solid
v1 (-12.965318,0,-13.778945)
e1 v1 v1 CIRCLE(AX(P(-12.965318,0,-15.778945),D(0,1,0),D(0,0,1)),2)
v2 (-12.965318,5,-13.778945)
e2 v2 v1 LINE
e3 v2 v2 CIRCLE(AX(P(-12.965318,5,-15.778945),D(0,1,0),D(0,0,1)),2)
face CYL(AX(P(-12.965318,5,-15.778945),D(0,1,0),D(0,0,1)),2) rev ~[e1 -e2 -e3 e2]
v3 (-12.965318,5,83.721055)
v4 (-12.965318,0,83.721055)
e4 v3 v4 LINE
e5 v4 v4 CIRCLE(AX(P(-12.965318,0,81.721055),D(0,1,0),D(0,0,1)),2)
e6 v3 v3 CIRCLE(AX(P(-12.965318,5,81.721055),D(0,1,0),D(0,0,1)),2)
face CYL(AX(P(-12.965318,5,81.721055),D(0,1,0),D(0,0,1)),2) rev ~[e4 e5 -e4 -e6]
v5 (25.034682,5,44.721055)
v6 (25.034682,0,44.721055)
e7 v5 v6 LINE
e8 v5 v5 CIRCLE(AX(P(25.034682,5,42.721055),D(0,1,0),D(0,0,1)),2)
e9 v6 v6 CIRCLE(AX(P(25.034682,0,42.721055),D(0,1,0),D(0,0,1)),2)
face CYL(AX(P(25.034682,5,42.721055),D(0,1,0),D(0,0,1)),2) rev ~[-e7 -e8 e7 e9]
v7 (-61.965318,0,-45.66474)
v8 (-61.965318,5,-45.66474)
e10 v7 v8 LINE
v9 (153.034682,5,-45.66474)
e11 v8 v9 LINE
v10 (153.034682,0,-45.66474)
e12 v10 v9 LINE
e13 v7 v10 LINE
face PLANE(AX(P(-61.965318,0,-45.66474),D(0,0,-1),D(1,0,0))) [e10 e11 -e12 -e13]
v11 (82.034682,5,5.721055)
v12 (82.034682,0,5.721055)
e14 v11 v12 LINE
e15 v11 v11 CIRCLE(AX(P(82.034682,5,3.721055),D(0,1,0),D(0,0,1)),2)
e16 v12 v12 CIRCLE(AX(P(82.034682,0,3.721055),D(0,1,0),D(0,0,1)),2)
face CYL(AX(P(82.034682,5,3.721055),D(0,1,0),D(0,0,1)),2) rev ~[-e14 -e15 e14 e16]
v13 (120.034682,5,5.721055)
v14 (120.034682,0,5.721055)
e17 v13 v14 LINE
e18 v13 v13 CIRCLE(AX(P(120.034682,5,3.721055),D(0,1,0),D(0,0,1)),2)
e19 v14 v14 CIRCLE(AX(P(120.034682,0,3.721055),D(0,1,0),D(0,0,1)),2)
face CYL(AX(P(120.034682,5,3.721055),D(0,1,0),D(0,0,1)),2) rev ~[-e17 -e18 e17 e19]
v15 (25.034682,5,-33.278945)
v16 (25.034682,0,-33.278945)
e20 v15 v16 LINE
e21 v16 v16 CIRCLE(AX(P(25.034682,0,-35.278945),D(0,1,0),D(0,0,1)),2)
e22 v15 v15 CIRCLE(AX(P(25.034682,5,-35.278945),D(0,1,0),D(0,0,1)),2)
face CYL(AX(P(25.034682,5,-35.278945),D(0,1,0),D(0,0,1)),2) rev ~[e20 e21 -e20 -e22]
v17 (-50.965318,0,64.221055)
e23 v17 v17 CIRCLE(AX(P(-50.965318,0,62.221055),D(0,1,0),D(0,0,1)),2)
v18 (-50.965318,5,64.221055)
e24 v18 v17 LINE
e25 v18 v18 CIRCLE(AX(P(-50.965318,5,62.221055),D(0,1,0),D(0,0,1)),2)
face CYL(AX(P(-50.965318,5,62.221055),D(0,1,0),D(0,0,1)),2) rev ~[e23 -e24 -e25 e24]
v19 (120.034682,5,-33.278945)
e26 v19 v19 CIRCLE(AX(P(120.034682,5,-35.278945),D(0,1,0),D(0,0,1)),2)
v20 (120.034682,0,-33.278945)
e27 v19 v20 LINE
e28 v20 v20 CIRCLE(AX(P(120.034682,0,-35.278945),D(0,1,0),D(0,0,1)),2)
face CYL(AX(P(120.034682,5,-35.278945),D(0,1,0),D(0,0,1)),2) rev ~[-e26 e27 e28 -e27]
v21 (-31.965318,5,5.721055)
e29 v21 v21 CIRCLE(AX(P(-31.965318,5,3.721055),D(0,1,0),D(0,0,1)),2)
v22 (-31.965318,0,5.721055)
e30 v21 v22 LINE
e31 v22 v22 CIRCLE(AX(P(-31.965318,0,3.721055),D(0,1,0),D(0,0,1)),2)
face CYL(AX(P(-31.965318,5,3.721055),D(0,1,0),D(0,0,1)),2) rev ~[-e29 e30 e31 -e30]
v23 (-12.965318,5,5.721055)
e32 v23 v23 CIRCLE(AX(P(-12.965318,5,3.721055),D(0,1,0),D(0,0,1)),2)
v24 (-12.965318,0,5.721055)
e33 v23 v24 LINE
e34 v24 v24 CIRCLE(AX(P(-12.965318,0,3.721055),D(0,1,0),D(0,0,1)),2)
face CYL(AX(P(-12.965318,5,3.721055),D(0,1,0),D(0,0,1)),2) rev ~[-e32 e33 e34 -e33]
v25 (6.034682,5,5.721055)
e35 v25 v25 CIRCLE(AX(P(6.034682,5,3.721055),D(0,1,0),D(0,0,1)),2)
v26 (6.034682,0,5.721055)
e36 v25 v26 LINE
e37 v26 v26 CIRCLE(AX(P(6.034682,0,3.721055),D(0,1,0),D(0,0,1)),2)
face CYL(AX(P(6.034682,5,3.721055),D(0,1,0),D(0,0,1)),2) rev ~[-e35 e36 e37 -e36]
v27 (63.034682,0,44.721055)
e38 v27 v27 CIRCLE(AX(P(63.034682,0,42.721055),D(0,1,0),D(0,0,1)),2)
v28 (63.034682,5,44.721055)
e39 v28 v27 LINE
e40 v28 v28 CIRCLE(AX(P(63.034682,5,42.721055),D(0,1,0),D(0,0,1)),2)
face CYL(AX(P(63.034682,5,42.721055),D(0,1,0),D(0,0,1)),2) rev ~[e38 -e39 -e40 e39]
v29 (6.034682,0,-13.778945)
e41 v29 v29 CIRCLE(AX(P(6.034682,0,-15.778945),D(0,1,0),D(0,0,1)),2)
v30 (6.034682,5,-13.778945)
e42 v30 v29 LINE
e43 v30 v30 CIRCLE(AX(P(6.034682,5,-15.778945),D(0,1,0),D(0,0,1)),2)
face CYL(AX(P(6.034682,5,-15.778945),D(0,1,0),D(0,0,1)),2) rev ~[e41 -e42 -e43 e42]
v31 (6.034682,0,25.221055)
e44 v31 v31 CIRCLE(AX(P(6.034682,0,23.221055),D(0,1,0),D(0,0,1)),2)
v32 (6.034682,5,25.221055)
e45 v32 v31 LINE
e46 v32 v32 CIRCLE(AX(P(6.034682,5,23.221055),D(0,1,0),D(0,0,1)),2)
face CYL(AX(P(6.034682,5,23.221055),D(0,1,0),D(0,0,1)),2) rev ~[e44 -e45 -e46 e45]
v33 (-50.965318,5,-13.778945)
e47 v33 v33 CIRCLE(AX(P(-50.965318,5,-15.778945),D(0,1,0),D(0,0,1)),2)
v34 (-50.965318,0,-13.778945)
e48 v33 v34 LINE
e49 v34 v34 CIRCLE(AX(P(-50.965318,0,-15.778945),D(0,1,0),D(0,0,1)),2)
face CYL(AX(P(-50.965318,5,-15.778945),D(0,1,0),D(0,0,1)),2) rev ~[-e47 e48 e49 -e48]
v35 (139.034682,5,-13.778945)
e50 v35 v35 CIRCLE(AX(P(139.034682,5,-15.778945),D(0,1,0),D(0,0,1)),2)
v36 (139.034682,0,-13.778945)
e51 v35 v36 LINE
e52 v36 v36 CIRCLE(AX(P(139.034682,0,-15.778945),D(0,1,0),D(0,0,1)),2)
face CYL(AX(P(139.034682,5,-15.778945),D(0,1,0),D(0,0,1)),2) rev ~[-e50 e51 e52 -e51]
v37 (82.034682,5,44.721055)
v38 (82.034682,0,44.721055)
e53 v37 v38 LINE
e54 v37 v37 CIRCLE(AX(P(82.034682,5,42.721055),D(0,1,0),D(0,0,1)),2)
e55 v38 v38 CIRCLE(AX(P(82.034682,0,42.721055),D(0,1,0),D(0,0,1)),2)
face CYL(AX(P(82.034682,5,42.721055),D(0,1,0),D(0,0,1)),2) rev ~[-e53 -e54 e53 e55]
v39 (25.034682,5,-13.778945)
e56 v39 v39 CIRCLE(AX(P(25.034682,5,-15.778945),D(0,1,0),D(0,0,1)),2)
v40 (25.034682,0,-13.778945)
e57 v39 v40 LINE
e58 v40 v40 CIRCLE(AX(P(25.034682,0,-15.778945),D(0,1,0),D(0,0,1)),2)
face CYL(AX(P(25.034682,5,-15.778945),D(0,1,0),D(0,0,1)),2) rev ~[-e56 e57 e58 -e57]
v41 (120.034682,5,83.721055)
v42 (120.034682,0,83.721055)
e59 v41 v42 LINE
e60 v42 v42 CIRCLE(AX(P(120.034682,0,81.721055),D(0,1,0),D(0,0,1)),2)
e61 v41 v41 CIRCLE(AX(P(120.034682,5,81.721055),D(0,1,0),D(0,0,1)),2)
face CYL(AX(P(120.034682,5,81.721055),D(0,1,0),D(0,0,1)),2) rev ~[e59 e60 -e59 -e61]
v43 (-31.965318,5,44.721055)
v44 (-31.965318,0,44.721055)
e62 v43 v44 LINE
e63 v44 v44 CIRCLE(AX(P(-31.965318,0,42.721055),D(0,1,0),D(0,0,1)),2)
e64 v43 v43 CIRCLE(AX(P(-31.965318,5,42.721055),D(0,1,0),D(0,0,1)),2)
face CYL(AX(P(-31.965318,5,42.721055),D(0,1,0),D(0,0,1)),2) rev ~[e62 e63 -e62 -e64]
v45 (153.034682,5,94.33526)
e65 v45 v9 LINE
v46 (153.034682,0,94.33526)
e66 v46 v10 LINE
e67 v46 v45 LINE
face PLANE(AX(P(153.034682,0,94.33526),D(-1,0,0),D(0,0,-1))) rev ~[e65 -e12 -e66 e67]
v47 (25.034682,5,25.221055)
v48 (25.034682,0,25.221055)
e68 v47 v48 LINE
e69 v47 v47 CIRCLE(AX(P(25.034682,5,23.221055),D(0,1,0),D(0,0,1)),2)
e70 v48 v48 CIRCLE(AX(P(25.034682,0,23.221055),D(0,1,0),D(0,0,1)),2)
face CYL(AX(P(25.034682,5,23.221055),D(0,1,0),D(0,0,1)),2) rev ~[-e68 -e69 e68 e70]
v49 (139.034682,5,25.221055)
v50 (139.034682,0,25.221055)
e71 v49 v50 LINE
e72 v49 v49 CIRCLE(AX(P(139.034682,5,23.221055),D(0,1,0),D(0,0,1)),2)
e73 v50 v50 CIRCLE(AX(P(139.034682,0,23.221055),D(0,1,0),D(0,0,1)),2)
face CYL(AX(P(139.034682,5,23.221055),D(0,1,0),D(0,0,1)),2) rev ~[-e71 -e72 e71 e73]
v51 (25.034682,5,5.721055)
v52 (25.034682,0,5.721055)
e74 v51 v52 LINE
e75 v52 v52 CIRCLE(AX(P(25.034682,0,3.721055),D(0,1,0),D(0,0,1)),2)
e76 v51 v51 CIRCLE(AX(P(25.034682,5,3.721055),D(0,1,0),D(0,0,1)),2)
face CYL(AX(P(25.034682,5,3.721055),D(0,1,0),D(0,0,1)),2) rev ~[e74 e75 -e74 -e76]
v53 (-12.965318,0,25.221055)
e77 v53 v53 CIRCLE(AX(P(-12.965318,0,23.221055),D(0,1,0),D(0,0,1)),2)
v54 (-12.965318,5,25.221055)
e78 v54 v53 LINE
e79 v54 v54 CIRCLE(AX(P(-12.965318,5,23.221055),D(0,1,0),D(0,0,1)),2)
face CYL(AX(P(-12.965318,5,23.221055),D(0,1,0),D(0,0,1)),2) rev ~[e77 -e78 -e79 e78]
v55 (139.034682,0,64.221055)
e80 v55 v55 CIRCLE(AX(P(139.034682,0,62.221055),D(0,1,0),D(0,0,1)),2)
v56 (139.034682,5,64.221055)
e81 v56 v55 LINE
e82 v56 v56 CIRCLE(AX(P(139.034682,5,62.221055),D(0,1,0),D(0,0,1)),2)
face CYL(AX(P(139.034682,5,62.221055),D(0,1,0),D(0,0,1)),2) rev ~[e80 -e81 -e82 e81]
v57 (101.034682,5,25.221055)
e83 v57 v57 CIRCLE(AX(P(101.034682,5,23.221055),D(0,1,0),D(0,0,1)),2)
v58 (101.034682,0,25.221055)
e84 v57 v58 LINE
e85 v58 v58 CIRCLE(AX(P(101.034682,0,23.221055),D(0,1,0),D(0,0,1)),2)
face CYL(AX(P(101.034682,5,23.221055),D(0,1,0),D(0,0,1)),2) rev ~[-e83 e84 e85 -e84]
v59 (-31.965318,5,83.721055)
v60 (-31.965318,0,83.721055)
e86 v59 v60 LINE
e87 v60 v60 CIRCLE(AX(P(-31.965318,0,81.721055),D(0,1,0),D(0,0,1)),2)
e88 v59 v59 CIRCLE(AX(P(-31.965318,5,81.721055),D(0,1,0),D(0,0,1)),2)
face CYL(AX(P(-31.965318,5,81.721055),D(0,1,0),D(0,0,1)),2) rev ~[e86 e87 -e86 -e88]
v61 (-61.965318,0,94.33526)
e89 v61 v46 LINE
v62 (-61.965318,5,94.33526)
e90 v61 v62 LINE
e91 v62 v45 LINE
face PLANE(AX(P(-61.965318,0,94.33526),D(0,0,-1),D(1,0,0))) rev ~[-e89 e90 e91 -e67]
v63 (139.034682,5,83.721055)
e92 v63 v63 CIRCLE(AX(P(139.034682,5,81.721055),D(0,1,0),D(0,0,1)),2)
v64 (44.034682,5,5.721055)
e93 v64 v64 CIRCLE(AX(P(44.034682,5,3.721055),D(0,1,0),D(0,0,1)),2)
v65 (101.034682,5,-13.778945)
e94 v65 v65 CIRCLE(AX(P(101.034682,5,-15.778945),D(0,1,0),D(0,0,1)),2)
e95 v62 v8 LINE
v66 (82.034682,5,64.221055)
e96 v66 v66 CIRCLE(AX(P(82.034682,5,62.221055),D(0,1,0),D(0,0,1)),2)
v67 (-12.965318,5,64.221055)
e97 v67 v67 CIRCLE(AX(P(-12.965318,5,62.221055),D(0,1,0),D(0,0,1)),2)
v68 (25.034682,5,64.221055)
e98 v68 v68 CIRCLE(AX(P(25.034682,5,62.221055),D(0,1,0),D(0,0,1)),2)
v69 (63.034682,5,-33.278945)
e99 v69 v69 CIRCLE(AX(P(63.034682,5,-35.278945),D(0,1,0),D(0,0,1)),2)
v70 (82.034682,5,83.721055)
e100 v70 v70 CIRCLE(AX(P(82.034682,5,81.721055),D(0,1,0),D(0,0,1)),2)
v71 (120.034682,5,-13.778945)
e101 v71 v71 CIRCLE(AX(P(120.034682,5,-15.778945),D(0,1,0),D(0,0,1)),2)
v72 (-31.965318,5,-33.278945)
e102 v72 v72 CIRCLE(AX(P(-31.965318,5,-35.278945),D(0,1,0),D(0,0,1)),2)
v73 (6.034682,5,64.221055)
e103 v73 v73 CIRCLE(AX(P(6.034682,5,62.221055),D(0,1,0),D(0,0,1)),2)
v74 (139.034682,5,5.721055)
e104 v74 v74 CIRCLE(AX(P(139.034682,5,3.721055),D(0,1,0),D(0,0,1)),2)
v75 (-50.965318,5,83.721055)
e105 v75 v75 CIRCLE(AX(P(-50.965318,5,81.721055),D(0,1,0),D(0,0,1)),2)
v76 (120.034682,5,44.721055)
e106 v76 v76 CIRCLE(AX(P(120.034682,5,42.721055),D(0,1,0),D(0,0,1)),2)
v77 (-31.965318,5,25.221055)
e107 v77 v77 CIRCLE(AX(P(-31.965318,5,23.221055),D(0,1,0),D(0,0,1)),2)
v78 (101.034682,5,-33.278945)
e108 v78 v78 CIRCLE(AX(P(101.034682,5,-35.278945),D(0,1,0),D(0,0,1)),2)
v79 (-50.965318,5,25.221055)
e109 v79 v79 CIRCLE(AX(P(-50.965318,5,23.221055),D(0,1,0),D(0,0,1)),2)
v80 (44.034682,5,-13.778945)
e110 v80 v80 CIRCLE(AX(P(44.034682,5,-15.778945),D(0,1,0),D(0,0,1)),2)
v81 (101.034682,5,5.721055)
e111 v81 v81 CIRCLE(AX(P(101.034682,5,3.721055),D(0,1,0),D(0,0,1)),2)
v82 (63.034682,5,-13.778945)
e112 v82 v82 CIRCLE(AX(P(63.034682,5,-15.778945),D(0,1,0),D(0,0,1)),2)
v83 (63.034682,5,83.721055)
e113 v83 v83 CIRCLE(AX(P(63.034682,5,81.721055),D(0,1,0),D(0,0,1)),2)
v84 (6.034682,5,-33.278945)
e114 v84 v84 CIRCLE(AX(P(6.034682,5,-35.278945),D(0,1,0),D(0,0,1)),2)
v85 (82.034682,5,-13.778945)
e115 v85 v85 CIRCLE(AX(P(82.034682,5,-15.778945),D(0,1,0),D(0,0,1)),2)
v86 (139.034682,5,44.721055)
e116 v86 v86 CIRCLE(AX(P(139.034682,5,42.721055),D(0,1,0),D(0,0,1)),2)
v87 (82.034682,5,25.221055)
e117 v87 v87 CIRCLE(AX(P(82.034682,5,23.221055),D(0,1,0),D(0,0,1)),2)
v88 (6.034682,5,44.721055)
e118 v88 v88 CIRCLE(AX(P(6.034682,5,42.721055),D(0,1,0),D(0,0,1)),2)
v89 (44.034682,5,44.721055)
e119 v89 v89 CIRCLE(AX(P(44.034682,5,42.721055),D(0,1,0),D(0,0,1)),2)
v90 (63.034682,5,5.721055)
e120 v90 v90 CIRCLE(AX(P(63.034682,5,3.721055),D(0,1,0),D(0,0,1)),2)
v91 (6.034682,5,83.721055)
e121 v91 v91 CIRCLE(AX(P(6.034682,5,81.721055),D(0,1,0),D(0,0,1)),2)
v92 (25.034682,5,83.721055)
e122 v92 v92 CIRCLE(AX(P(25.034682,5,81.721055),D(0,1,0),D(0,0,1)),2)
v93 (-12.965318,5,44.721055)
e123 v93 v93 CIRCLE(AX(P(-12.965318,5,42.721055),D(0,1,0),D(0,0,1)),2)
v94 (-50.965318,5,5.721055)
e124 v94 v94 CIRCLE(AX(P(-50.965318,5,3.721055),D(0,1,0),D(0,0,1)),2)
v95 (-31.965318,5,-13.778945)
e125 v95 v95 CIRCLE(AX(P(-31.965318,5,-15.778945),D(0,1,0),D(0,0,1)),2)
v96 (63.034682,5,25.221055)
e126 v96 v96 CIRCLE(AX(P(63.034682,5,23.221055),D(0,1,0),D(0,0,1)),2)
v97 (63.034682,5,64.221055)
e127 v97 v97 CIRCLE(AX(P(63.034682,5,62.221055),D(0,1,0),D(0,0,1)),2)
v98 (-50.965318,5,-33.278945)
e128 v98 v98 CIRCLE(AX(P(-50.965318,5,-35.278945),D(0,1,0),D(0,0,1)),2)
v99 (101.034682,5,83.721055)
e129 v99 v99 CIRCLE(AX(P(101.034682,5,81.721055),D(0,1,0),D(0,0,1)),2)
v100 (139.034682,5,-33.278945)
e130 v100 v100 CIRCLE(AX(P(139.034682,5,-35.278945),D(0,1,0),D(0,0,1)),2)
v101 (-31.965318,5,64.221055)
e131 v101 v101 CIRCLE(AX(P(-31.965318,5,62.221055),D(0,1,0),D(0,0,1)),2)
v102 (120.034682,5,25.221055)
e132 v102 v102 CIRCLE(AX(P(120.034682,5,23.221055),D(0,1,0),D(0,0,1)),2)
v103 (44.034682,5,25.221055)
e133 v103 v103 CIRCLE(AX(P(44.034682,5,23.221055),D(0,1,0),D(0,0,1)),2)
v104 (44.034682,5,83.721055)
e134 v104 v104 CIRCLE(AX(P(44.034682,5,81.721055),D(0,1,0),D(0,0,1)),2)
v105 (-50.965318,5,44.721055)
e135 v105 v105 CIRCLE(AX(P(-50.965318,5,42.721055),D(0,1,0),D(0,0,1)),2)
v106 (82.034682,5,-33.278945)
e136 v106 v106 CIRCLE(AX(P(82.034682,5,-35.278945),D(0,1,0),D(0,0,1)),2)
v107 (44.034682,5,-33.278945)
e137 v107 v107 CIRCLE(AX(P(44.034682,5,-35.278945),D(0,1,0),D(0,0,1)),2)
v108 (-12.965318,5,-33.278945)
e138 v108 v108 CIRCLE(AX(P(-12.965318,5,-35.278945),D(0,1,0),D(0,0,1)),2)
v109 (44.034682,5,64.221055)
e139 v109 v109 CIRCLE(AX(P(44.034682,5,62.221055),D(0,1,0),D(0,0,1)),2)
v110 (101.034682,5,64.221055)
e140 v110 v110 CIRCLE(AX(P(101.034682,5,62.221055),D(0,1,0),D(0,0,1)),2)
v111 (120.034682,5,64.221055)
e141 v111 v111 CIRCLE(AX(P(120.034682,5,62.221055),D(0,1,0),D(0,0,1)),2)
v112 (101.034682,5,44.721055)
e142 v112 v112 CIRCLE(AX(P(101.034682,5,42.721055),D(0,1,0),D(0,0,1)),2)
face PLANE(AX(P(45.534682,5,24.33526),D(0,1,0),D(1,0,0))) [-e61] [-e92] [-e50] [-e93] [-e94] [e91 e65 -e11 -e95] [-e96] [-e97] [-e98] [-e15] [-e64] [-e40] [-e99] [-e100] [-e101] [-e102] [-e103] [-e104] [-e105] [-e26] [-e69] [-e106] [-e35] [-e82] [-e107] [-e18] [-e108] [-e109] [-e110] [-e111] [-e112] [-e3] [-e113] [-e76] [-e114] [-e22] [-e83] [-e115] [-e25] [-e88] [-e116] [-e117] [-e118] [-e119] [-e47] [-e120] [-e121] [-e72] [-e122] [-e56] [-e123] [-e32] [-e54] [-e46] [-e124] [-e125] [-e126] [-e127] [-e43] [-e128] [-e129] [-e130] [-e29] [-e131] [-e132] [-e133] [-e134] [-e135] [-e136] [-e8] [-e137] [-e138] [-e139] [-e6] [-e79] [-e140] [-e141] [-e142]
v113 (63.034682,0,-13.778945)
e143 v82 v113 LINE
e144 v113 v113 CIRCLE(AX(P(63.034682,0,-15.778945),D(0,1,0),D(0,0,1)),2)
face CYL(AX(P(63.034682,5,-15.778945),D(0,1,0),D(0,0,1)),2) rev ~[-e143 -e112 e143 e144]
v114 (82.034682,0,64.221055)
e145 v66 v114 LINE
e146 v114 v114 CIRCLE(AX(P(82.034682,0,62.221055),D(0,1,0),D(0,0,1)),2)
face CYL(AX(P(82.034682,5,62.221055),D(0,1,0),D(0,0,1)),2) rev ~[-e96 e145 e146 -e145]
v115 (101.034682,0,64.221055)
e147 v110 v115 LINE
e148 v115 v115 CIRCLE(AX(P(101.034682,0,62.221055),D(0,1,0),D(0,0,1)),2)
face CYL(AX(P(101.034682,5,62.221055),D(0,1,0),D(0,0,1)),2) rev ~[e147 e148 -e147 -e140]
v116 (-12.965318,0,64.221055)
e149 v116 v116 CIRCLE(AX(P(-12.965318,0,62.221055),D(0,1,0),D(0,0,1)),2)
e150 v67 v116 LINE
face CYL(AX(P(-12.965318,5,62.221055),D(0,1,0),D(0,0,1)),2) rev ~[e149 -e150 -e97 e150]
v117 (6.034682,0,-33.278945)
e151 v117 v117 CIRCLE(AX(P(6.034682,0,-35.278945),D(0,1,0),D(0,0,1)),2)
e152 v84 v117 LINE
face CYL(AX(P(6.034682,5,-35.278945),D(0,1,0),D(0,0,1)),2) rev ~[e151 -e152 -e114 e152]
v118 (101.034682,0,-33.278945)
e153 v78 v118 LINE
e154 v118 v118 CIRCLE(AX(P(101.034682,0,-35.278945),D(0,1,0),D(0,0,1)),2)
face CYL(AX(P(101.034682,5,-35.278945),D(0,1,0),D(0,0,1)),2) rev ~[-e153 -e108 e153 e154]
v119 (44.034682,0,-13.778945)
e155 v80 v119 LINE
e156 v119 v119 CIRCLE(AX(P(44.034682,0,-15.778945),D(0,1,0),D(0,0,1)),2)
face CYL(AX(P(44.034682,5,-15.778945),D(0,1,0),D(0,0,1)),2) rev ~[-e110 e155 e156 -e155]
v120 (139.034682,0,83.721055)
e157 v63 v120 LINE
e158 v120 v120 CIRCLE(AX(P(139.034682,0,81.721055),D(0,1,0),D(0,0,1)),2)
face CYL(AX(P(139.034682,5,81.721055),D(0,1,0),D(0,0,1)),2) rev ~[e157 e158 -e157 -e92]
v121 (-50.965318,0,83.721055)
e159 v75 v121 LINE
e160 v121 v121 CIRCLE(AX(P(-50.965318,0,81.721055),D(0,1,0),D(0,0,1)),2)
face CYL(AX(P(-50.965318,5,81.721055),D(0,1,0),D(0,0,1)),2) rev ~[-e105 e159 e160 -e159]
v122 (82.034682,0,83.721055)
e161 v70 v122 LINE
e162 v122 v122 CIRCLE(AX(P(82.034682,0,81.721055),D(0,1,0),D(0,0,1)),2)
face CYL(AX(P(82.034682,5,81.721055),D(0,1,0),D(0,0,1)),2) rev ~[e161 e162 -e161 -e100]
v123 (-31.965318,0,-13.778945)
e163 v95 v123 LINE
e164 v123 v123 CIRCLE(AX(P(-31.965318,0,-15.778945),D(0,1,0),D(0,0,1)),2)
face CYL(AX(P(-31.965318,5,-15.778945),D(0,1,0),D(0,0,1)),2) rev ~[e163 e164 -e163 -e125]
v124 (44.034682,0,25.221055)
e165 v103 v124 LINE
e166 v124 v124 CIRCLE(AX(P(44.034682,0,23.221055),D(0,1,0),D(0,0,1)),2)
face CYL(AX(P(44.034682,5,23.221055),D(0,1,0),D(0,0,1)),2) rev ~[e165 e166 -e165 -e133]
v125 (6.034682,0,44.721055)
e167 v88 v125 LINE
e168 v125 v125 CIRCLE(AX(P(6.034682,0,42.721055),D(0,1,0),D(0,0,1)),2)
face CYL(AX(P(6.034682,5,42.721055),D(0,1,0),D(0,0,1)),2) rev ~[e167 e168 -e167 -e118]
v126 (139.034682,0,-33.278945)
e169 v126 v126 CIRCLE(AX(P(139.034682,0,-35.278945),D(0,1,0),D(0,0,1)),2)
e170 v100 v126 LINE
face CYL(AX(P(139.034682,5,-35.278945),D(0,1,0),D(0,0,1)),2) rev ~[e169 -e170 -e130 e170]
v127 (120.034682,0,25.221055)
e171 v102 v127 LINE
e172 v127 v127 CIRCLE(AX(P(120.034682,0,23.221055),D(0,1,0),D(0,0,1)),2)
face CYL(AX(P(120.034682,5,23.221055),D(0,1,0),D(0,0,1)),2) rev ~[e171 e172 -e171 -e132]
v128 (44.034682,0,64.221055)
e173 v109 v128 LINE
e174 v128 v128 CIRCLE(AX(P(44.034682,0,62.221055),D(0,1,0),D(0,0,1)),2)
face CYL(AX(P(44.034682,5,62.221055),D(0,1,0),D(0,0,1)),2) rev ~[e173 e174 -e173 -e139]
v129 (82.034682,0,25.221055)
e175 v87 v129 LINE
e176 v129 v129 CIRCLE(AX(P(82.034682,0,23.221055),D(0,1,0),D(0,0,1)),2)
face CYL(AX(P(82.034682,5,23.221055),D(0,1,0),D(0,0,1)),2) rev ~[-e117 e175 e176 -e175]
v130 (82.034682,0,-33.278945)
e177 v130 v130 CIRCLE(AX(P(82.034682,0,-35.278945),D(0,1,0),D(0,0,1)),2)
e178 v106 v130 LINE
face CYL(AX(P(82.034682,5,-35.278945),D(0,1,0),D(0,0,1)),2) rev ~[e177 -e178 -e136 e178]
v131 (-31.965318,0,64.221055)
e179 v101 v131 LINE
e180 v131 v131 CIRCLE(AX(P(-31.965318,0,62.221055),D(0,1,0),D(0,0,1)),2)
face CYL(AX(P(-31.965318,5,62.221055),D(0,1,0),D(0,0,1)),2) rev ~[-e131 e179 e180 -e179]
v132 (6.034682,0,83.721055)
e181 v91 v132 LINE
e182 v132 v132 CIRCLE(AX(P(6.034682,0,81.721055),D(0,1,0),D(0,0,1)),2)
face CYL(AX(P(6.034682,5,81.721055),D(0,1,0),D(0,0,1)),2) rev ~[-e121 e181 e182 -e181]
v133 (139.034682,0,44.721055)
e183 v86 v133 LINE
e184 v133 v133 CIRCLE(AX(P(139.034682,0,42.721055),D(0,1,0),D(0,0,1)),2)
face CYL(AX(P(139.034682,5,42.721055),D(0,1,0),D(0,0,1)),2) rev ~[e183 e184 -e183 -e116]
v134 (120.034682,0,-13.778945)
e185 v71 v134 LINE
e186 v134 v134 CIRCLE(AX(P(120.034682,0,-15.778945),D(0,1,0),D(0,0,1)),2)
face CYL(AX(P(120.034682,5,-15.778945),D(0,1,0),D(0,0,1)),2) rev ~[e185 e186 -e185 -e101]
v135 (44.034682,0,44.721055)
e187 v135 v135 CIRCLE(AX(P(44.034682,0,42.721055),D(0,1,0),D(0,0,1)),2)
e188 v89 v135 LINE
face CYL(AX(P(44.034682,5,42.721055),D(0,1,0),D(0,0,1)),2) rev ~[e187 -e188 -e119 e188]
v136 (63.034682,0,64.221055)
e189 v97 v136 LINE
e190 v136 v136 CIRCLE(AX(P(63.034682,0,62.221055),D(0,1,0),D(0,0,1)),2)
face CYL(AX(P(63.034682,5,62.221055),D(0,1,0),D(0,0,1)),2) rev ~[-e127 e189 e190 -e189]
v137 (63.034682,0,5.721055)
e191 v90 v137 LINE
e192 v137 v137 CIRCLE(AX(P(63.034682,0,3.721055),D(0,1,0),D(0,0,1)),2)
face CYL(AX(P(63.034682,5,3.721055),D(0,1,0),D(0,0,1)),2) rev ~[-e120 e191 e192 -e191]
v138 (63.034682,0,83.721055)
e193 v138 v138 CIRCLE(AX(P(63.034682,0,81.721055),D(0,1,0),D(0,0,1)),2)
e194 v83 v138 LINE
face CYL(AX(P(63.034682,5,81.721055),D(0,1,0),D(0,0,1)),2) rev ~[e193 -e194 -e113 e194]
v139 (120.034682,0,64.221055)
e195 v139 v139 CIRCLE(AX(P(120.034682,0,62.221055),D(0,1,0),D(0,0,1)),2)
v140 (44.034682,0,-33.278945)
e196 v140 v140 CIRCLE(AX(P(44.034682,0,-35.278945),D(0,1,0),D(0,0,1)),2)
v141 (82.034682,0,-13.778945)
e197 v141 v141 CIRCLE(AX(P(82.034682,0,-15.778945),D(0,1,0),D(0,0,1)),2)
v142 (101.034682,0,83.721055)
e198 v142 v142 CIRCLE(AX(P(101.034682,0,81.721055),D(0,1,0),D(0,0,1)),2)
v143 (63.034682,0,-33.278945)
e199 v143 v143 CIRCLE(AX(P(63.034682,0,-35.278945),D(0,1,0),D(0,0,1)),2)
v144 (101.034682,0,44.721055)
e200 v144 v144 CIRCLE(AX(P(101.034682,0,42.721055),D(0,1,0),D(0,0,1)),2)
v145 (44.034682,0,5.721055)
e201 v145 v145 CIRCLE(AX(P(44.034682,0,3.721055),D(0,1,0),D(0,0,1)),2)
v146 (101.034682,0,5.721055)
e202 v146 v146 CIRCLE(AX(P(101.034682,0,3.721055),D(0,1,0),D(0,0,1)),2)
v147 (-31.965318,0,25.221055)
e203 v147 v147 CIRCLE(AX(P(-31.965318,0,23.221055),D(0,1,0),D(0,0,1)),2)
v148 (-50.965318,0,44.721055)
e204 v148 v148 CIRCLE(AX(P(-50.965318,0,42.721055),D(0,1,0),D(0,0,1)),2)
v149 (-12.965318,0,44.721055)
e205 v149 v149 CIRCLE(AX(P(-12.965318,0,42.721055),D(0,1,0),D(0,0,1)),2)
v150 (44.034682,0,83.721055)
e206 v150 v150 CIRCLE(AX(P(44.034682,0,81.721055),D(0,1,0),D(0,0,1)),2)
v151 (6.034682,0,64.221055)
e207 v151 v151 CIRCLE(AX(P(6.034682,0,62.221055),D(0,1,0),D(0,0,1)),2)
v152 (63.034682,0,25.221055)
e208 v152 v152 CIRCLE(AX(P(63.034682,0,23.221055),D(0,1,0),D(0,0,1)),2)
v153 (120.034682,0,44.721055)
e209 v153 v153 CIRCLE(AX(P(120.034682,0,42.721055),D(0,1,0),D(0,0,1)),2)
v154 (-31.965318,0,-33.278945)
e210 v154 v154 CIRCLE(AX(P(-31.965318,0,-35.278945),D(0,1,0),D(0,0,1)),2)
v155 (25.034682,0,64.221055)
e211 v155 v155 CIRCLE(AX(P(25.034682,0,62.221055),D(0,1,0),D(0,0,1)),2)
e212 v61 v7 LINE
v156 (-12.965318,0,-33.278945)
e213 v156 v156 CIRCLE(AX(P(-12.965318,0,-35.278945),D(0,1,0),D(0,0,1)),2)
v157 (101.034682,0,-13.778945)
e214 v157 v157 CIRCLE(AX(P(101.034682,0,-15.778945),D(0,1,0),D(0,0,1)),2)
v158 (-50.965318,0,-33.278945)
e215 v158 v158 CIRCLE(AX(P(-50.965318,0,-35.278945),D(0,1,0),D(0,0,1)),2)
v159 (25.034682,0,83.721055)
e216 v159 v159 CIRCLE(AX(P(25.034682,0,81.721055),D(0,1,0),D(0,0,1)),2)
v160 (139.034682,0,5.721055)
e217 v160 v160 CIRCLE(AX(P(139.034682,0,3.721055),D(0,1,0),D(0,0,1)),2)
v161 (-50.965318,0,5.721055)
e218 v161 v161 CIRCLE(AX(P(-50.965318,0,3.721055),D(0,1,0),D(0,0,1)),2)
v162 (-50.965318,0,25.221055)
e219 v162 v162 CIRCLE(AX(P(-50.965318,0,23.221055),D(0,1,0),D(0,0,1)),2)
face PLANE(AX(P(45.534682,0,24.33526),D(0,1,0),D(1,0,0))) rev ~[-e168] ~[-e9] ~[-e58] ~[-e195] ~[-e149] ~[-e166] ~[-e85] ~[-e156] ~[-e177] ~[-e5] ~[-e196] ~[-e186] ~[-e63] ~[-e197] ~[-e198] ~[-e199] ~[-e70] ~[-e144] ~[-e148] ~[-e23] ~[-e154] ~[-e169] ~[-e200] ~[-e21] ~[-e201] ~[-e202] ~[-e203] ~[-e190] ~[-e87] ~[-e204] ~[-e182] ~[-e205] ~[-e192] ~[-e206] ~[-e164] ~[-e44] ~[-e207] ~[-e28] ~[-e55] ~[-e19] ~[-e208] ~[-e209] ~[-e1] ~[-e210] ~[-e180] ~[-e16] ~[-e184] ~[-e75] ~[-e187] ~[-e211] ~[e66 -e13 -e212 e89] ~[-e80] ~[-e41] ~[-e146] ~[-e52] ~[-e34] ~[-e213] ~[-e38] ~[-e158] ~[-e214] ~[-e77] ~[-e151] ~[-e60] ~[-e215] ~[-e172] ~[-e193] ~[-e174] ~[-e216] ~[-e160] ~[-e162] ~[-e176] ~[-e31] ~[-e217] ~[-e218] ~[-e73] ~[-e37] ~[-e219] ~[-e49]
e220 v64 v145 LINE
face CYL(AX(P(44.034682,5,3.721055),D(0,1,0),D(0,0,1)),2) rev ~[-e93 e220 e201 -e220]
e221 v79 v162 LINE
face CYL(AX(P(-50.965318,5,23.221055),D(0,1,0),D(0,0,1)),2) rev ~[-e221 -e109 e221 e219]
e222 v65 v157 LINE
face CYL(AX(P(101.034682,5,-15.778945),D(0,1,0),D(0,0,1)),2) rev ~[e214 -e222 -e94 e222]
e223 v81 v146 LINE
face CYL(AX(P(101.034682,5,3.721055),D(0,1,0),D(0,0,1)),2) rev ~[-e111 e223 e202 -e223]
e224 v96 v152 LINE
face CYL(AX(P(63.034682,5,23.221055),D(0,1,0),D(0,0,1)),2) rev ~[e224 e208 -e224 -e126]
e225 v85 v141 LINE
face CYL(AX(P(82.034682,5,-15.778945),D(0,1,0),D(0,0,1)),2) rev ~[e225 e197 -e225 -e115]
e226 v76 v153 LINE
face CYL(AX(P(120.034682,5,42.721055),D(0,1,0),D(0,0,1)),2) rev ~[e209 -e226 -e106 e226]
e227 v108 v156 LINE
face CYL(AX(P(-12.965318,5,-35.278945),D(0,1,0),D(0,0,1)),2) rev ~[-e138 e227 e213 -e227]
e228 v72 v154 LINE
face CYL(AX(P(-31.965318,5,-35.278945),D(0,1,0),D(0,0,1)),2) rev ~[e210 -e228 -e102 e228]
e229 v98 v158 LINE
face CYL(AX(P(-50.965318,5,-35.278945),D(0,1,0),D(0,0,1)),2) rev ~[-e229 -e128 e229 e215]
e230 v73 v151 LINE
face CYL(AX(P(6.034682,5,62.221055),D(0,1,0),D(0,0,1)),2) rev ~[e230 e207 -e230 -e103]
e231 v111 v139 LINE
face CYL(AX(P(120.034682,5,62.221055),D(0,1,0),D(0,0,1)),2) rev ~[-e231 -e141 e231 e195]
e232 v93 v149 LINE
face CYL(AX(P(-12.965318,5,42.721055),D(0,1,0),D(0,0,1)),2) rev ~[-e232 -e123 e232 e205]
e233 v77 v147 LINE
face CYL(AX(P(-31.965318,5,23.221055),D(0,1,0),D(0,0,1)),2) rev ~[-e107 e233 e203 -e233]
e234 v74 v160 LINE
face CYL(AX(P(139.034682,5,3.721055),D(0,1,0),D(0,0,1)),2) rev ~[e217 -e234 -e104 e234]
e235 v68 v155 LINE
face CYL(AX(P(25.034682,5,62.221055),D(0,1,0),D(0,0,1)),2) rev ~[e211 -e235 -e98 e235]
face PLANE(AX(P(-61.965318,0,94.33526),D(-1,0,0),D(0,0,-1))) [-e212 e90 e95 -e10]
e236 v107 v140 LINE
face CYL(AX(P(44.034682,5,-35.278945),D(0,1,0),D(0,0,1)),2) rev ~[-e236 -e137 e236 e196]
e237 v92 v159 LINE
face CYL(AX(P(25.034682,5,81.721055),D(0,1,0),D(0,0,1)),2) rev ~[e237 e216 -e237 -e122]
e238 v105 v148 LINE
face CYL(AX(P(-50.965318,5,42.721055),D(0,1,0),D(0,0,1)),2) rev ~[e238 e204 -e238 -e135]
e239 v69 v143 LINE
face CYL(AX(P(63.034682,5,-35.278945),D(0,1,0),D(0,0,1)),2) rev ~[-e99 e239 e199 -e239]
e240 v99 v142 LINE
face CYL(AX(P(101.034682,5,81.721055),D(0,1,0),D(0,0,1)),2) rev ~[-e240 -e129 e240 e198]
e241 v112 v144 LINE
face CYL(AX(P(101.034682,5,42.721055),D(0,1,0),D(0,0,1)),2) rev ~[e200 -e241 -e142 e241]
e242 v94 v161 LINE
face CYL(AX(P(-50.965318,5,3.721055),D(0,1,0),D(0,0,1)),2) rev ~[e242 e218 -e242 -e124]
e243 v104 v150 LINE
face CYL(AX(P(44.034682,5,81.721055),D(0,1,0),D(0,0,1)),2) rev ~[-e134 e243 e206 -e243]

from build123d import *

# Parameters (mm, degrees)
SKETCH1_W           = 215
SKETCH1_H           = 140
BOSS_EXTRUDE1_DEPTH = 5
SKETCH2_R           = 2
CUT_EXTRUDE1_DEPTH  = 5


with BuildPart() as part:
    # Sketch1 → Boss-Extrude1 (new body)
    with BuildSketch(Plane(origin=(0, 0, 0), x_dir=(1, 0, 0), z_dir=(0, 1, 0))):
        with Locations((45.534682081, -24.335260116)):
            Rectangle(SKETCH1_W, SKETCH1_H)
    extrude(amount=BOSS_EXTRUDE1_DEPTH)

    # Sketch2 → Cut-Extrude1 (cut)
    with BuildSketch(Plane(origin=(0, 5, 0), x_dir=(1, 0, 0), z_dir=(0, 1, 0))):
        with Locations(Location((-50.965317919, 35.27894491, 0), (0, 0, 270))):
            Circle(SKETCH2_R)
        with Locations(Location((-31.965317919, 35.27894491, 0), (0, 0, 270))):
            Circle(SKETCH2_R)
        with Locations(Location((-12.965317919, 35.27894491, 0), (0, 0, 270))):
            Circle(SKETCH2_R)
        with Locations(Location((6.034682081, 35.27894491, 0), (0, 0, 270))):
            Circle(SKETCH2_R)
        with Locations(Location((25.034682081, 35.27894491, 0), (0, 0, 270))):
            Circle(SKETCH2_R)
        with Locations(Location((44.034682081, 35.27894491, 0), (0, 0, 270))):
            Circle(SKETCH2_R)
        with Locations(Location((63.034682081, 35.27894491, 0), (0, 0, 270))):
            Circle(SKETCH2_R)
        with Locations(Location((82.034682081, 35.27894491, 0), (0, 0, 270))):
            Circle(SKETCH2_R)
        with Locations(Location((101.034682081, 35.27894491, 0), (0, 0, 270))):
            Circle(SKETCH2_R)
        with Locations(Location((120.034682081, 35.27894491, 0), (0, 0, 270))):
            Circle(SKETCH2_R)
        with Locations(Location((139.034682081, 35.27894491, 0), (0, 0, 270))):
            Circle(SKETCH2_R)
        with Locations(Location((-50.965317919, 15.77894491, 0), (0, 0, 270))):
            Circle(SKETCH2_R)
        with Locations(Location((-31.965317919, 15.77894491, 0), (0, 0, 270))):
            Circle(SKETCH2_R)
        with Locations(Location((-12.965317919, 15.77894491, 0), (0, 0, 270))):
            Circle(SKETCH2_R)
        with Locations(Location((6.034682081, 15.77894491, 0), (0, 0, 270))):
            Circle(SKETCH2_R)
        with Locations(Location((25.034682081, 15.77894491, 0), (0, 0, 270))):
            Circle(SKETCH2_R)
        with Locations(Location((44.034682081, 15.77894491, 0), (0, 0, 270))):
            Circle(SKETCH2_R)
        with Locations(Location((63.034682081, 15.77894491, 0), (0, 0, 270))):
            Circle(SKETCH2_R)
        with Locations(Location((82.034682081, 15.77894491, 0), (0, 0, 270))):
            Circle(SKETCH2_R)
        with Locations(Location((101.034682081, 15.77894491, 0), (0, 0, 270))):
            Circle(SKETCH2_R)
        with Locations(Location((120.034682081, 15.77894491, 0), (0, 0, 270))):
            Circle(SKETCH2_R)
        with Locations(Location((139.034682081, 15.77894491, 0), (0, 0, 270))):
            Circle(SKETCH2_R)
        with Locations(Location((-50.965317919, -3.72105509, 0), (0, 0, 270))):
            Circle(SKETCH2_R)
        with Locations(Location((-31.965317919, -3.72105509, 0), (0, 0, 270))):
            Circle(SKETCH2_R)
        with Locations(Location((-12.965317919, -3.72105509, 0), (0, 0, 270))):
            Circle(SKETCH2_R)
        with Locations(Location((6.034682081, -3.72105509, 0), (0, 0, 270))):
            Circle(SKETCH2_R)
        with Locations(Location((25.034682081, -3.72105509, 0), (0, 0, 270))):
            Circle(SKETCH2_R)
        with Locations(Location((44.034682081, -3.72105509, 0), (0, 0, 270))):
            Circle(SKETCH2_R)
        with Locations(Location((63.034682081, -3.72105509, 0), (0, 0, 270))):
            Circle(SKETCH2_R)
        with Locations(Location((82.034682081, -3.72105509, 0), (0, 0, 270))):
            Circle(SKETCH2_R)
        with Locations(Location((101.034682081, -3.72105509, 0), (0, 0, 270))):
            Circle(SKETCH2_R)
        with Locations(Location((120.034682081, -3.72105509, 0), (0, 0, 270))):
            Circle(SKETCH2_R)
        with Locations(Location((139.034682081, -3.72105509, 0), (0, 0, 270))):
            Circle(SKETCH2_R)
        with Locations(Location((-50.965317919, -23.22105509, 0), (0, 0, 270))):
            Circle(SKETCH2_R)
        with Locations(Location((-31.965317919, -23.22105509, 0), (0, 0, 270))):
            Circle(SKETCH2_R)
        with Locations(Location((-12.965317919, -23.22105509, 0), (0, 0, 270))):
            Circle(SKETCH2_R)
        with Locations(Location((6.034682081, -23.22105509, 0), (0, 0, 270))):
            Circle(SKETCH2_R)
        with Locations(Location((25.034682081, -23.22105509, 0), (0, 0, 270))):
            Circle(SKETCH2_R)
        with Locations(Location((44.034682081, -23.22105509, 0), (0, 0, 270))):
            Circle(SKETCH2_R)
        with Locations(Location((63.034682081, -23.22105509, 0), (0, 0, 270))):
            Circle(SKETCH2_R)
        with Locations(Location((82.034682081, -23.22105509, 0), (0, 0, 270))):
            Circle(SKETCH2_R)
        with Locations(Location((101.034682081, -23.22105509, 0), (0, 0, 270))):
            Circle(SKETCH2_R)
        with Locations(Location((120.034682081, -23.22105509, 0), (0, 0, 270))):
            Circle(SKETCH2_R)
        with Locations(Location((139.034682081, -23.22105509, 0), (0, 0, 270))):
            Circle(SKETCH2_R)
        with Locations(Location((-50.965317919, -42.72105509, 0), (0, 0, 270))):
            Circle(SKETCH2_R)
        with Locations(Location((-31.965317919, -42.72105509, 0), (0, 0, 270))):
            Circle(SKETCH2_R)
        with Locations(Location((-12.965317919, -42.72105509, 0), (0, 0, 270))):
            Circle(SKETCH2_R)
        with Locations(Location((6.034682081, -42.72105509, 0), (0, 0, 270))):
            Circle(SKETCH2_R)
        with Locations(Location((25.034682081, -42.72105509, 0), (0, 0, 270))):
            Circle(SKETCH2_R)
        with Locations(Location((44.034682081, -42.72105509, 0), (0, 0, 270))):
            Circle(SKETCH2_R)
        with Locations(Location((63.034682081, -42.72105509, 0), (0, 0, 270))):
            Circle(SKETCH2_R)
        with Locations(Location((82.034682081, -42.72105509, 0), (0, 0, 270))):
            Circle(SKETCH2_R)
        with Locations(Location((101.034682081, -42.72105509, 0), (0, 0, 270))):
            Circle(SKETCH2_R)
        with Locations(Location((120.034682081, -42.72105509, 0), (0, 0, 270))):
            Circle(SKETCH2_R)
        with Locations(Location((139.034682081, -42.72105509, 0), (0, 0, 270))):
            Circle(SKETCH2_R)
        with Locations(Location((-50.965317919, -62.22105509, 0), (0, 0, 270))):
            Circle(SKETCH2_R)
        with Locations(Location((-31.965317919, -62.22105509, 0), (0, 0, 270))):
            Circle(SKETCH2_R)
        with Locations(Location((-12.965317919, -62.22105509, 0), (0, 0, 270))):
            Circle(SKETCH2_R)
        with Locations(Location((6.034682081, -62.22105509, 0), (0, 0, 270))):
            Circle(SKETCH2_R)
        with Locations(Location((25.034682081, -62.22105509, 0), (0, 0, 270))):
            Circle(SKETCH2_R)
        with Locations(Location((44.034682081, -62.22105509, 0), (0, 0, 270))):
            Circle(SKETCH2_R)
        with Locations(Location((63.034682081, -62.22105509, 0), (0, 0, 270))):
            Circle(SKETCH2_R)
        with Locations(Location((82.034682081, -62.22105509, 0), (0, 0, 270))):
            Circle(SKETCH2_R)
        with Locations(Location((101.034682081, -62.22105509, 0), (0, 0, 270))):
            Circle(SKETCH2_R)
        with Locations(Location((120.034682081, -62.22105509, 0), (0, 0, 270))):
            Circle(SKETCH2_R)
        with Locations(Location((139.034682081, -62.22105509, 0), (0, 0, 270))):
            Circle(SKETCH2_R)
        with Locations(Location((-50.965317919, -81.72105509, 0), (0, 0, 270))):
            Circle(SKETCH2_R)
        with Locations(Location((-31.965317919, -81.72105509, 0), (0, 0, 270))):
            Circle(SKETCH2_R)
        with Locations(Location((-12.965317919, -81.72105509, 0), (0, 0, 270))):
            Circle(SKETCH2_R)
        with Locations(Location((6.034682081, -81.72105509, 0), (0, 0, 270))):
            Circle(SKETCH2_R)
        with Locations(Location((25.034682081, -81.72105509, 0), (0, 0, 270))):
            Circle(SKETCH2_R)
        with Locations(Location((44.034682081, -81.72105509, 0), (0, 0, 270))):
            Circle(SKETCH2_R)
        with Locations(Location((63.034682081, -81.72105509, 0), (0, 0, 270))):
            Circle(SKETCH2_R)
        with Locations(Location((82.034682081, -81.72105509, 0), (0, 0, 270))):
            Circle(SKETCH2_R)
        with Locations(Location((101.034682081, -81.72105509, 0), (0, 0, 270))):
            Circle(SKETCH2_R)
        with Locations(Location((120.034682081, -81.72105509, 0), (0, 0, 270))):
            Circle(SKETCH2_R)
        with Locations(Location((139.034682081, -81.72105509, 0), (0, 0, 270))):
            Circle(SKETCH2_R)
    extrude(amount=-CUT_EXTRUDE1_DEPTH, mode=Mode.SUBTRACT)


solid = part.part
